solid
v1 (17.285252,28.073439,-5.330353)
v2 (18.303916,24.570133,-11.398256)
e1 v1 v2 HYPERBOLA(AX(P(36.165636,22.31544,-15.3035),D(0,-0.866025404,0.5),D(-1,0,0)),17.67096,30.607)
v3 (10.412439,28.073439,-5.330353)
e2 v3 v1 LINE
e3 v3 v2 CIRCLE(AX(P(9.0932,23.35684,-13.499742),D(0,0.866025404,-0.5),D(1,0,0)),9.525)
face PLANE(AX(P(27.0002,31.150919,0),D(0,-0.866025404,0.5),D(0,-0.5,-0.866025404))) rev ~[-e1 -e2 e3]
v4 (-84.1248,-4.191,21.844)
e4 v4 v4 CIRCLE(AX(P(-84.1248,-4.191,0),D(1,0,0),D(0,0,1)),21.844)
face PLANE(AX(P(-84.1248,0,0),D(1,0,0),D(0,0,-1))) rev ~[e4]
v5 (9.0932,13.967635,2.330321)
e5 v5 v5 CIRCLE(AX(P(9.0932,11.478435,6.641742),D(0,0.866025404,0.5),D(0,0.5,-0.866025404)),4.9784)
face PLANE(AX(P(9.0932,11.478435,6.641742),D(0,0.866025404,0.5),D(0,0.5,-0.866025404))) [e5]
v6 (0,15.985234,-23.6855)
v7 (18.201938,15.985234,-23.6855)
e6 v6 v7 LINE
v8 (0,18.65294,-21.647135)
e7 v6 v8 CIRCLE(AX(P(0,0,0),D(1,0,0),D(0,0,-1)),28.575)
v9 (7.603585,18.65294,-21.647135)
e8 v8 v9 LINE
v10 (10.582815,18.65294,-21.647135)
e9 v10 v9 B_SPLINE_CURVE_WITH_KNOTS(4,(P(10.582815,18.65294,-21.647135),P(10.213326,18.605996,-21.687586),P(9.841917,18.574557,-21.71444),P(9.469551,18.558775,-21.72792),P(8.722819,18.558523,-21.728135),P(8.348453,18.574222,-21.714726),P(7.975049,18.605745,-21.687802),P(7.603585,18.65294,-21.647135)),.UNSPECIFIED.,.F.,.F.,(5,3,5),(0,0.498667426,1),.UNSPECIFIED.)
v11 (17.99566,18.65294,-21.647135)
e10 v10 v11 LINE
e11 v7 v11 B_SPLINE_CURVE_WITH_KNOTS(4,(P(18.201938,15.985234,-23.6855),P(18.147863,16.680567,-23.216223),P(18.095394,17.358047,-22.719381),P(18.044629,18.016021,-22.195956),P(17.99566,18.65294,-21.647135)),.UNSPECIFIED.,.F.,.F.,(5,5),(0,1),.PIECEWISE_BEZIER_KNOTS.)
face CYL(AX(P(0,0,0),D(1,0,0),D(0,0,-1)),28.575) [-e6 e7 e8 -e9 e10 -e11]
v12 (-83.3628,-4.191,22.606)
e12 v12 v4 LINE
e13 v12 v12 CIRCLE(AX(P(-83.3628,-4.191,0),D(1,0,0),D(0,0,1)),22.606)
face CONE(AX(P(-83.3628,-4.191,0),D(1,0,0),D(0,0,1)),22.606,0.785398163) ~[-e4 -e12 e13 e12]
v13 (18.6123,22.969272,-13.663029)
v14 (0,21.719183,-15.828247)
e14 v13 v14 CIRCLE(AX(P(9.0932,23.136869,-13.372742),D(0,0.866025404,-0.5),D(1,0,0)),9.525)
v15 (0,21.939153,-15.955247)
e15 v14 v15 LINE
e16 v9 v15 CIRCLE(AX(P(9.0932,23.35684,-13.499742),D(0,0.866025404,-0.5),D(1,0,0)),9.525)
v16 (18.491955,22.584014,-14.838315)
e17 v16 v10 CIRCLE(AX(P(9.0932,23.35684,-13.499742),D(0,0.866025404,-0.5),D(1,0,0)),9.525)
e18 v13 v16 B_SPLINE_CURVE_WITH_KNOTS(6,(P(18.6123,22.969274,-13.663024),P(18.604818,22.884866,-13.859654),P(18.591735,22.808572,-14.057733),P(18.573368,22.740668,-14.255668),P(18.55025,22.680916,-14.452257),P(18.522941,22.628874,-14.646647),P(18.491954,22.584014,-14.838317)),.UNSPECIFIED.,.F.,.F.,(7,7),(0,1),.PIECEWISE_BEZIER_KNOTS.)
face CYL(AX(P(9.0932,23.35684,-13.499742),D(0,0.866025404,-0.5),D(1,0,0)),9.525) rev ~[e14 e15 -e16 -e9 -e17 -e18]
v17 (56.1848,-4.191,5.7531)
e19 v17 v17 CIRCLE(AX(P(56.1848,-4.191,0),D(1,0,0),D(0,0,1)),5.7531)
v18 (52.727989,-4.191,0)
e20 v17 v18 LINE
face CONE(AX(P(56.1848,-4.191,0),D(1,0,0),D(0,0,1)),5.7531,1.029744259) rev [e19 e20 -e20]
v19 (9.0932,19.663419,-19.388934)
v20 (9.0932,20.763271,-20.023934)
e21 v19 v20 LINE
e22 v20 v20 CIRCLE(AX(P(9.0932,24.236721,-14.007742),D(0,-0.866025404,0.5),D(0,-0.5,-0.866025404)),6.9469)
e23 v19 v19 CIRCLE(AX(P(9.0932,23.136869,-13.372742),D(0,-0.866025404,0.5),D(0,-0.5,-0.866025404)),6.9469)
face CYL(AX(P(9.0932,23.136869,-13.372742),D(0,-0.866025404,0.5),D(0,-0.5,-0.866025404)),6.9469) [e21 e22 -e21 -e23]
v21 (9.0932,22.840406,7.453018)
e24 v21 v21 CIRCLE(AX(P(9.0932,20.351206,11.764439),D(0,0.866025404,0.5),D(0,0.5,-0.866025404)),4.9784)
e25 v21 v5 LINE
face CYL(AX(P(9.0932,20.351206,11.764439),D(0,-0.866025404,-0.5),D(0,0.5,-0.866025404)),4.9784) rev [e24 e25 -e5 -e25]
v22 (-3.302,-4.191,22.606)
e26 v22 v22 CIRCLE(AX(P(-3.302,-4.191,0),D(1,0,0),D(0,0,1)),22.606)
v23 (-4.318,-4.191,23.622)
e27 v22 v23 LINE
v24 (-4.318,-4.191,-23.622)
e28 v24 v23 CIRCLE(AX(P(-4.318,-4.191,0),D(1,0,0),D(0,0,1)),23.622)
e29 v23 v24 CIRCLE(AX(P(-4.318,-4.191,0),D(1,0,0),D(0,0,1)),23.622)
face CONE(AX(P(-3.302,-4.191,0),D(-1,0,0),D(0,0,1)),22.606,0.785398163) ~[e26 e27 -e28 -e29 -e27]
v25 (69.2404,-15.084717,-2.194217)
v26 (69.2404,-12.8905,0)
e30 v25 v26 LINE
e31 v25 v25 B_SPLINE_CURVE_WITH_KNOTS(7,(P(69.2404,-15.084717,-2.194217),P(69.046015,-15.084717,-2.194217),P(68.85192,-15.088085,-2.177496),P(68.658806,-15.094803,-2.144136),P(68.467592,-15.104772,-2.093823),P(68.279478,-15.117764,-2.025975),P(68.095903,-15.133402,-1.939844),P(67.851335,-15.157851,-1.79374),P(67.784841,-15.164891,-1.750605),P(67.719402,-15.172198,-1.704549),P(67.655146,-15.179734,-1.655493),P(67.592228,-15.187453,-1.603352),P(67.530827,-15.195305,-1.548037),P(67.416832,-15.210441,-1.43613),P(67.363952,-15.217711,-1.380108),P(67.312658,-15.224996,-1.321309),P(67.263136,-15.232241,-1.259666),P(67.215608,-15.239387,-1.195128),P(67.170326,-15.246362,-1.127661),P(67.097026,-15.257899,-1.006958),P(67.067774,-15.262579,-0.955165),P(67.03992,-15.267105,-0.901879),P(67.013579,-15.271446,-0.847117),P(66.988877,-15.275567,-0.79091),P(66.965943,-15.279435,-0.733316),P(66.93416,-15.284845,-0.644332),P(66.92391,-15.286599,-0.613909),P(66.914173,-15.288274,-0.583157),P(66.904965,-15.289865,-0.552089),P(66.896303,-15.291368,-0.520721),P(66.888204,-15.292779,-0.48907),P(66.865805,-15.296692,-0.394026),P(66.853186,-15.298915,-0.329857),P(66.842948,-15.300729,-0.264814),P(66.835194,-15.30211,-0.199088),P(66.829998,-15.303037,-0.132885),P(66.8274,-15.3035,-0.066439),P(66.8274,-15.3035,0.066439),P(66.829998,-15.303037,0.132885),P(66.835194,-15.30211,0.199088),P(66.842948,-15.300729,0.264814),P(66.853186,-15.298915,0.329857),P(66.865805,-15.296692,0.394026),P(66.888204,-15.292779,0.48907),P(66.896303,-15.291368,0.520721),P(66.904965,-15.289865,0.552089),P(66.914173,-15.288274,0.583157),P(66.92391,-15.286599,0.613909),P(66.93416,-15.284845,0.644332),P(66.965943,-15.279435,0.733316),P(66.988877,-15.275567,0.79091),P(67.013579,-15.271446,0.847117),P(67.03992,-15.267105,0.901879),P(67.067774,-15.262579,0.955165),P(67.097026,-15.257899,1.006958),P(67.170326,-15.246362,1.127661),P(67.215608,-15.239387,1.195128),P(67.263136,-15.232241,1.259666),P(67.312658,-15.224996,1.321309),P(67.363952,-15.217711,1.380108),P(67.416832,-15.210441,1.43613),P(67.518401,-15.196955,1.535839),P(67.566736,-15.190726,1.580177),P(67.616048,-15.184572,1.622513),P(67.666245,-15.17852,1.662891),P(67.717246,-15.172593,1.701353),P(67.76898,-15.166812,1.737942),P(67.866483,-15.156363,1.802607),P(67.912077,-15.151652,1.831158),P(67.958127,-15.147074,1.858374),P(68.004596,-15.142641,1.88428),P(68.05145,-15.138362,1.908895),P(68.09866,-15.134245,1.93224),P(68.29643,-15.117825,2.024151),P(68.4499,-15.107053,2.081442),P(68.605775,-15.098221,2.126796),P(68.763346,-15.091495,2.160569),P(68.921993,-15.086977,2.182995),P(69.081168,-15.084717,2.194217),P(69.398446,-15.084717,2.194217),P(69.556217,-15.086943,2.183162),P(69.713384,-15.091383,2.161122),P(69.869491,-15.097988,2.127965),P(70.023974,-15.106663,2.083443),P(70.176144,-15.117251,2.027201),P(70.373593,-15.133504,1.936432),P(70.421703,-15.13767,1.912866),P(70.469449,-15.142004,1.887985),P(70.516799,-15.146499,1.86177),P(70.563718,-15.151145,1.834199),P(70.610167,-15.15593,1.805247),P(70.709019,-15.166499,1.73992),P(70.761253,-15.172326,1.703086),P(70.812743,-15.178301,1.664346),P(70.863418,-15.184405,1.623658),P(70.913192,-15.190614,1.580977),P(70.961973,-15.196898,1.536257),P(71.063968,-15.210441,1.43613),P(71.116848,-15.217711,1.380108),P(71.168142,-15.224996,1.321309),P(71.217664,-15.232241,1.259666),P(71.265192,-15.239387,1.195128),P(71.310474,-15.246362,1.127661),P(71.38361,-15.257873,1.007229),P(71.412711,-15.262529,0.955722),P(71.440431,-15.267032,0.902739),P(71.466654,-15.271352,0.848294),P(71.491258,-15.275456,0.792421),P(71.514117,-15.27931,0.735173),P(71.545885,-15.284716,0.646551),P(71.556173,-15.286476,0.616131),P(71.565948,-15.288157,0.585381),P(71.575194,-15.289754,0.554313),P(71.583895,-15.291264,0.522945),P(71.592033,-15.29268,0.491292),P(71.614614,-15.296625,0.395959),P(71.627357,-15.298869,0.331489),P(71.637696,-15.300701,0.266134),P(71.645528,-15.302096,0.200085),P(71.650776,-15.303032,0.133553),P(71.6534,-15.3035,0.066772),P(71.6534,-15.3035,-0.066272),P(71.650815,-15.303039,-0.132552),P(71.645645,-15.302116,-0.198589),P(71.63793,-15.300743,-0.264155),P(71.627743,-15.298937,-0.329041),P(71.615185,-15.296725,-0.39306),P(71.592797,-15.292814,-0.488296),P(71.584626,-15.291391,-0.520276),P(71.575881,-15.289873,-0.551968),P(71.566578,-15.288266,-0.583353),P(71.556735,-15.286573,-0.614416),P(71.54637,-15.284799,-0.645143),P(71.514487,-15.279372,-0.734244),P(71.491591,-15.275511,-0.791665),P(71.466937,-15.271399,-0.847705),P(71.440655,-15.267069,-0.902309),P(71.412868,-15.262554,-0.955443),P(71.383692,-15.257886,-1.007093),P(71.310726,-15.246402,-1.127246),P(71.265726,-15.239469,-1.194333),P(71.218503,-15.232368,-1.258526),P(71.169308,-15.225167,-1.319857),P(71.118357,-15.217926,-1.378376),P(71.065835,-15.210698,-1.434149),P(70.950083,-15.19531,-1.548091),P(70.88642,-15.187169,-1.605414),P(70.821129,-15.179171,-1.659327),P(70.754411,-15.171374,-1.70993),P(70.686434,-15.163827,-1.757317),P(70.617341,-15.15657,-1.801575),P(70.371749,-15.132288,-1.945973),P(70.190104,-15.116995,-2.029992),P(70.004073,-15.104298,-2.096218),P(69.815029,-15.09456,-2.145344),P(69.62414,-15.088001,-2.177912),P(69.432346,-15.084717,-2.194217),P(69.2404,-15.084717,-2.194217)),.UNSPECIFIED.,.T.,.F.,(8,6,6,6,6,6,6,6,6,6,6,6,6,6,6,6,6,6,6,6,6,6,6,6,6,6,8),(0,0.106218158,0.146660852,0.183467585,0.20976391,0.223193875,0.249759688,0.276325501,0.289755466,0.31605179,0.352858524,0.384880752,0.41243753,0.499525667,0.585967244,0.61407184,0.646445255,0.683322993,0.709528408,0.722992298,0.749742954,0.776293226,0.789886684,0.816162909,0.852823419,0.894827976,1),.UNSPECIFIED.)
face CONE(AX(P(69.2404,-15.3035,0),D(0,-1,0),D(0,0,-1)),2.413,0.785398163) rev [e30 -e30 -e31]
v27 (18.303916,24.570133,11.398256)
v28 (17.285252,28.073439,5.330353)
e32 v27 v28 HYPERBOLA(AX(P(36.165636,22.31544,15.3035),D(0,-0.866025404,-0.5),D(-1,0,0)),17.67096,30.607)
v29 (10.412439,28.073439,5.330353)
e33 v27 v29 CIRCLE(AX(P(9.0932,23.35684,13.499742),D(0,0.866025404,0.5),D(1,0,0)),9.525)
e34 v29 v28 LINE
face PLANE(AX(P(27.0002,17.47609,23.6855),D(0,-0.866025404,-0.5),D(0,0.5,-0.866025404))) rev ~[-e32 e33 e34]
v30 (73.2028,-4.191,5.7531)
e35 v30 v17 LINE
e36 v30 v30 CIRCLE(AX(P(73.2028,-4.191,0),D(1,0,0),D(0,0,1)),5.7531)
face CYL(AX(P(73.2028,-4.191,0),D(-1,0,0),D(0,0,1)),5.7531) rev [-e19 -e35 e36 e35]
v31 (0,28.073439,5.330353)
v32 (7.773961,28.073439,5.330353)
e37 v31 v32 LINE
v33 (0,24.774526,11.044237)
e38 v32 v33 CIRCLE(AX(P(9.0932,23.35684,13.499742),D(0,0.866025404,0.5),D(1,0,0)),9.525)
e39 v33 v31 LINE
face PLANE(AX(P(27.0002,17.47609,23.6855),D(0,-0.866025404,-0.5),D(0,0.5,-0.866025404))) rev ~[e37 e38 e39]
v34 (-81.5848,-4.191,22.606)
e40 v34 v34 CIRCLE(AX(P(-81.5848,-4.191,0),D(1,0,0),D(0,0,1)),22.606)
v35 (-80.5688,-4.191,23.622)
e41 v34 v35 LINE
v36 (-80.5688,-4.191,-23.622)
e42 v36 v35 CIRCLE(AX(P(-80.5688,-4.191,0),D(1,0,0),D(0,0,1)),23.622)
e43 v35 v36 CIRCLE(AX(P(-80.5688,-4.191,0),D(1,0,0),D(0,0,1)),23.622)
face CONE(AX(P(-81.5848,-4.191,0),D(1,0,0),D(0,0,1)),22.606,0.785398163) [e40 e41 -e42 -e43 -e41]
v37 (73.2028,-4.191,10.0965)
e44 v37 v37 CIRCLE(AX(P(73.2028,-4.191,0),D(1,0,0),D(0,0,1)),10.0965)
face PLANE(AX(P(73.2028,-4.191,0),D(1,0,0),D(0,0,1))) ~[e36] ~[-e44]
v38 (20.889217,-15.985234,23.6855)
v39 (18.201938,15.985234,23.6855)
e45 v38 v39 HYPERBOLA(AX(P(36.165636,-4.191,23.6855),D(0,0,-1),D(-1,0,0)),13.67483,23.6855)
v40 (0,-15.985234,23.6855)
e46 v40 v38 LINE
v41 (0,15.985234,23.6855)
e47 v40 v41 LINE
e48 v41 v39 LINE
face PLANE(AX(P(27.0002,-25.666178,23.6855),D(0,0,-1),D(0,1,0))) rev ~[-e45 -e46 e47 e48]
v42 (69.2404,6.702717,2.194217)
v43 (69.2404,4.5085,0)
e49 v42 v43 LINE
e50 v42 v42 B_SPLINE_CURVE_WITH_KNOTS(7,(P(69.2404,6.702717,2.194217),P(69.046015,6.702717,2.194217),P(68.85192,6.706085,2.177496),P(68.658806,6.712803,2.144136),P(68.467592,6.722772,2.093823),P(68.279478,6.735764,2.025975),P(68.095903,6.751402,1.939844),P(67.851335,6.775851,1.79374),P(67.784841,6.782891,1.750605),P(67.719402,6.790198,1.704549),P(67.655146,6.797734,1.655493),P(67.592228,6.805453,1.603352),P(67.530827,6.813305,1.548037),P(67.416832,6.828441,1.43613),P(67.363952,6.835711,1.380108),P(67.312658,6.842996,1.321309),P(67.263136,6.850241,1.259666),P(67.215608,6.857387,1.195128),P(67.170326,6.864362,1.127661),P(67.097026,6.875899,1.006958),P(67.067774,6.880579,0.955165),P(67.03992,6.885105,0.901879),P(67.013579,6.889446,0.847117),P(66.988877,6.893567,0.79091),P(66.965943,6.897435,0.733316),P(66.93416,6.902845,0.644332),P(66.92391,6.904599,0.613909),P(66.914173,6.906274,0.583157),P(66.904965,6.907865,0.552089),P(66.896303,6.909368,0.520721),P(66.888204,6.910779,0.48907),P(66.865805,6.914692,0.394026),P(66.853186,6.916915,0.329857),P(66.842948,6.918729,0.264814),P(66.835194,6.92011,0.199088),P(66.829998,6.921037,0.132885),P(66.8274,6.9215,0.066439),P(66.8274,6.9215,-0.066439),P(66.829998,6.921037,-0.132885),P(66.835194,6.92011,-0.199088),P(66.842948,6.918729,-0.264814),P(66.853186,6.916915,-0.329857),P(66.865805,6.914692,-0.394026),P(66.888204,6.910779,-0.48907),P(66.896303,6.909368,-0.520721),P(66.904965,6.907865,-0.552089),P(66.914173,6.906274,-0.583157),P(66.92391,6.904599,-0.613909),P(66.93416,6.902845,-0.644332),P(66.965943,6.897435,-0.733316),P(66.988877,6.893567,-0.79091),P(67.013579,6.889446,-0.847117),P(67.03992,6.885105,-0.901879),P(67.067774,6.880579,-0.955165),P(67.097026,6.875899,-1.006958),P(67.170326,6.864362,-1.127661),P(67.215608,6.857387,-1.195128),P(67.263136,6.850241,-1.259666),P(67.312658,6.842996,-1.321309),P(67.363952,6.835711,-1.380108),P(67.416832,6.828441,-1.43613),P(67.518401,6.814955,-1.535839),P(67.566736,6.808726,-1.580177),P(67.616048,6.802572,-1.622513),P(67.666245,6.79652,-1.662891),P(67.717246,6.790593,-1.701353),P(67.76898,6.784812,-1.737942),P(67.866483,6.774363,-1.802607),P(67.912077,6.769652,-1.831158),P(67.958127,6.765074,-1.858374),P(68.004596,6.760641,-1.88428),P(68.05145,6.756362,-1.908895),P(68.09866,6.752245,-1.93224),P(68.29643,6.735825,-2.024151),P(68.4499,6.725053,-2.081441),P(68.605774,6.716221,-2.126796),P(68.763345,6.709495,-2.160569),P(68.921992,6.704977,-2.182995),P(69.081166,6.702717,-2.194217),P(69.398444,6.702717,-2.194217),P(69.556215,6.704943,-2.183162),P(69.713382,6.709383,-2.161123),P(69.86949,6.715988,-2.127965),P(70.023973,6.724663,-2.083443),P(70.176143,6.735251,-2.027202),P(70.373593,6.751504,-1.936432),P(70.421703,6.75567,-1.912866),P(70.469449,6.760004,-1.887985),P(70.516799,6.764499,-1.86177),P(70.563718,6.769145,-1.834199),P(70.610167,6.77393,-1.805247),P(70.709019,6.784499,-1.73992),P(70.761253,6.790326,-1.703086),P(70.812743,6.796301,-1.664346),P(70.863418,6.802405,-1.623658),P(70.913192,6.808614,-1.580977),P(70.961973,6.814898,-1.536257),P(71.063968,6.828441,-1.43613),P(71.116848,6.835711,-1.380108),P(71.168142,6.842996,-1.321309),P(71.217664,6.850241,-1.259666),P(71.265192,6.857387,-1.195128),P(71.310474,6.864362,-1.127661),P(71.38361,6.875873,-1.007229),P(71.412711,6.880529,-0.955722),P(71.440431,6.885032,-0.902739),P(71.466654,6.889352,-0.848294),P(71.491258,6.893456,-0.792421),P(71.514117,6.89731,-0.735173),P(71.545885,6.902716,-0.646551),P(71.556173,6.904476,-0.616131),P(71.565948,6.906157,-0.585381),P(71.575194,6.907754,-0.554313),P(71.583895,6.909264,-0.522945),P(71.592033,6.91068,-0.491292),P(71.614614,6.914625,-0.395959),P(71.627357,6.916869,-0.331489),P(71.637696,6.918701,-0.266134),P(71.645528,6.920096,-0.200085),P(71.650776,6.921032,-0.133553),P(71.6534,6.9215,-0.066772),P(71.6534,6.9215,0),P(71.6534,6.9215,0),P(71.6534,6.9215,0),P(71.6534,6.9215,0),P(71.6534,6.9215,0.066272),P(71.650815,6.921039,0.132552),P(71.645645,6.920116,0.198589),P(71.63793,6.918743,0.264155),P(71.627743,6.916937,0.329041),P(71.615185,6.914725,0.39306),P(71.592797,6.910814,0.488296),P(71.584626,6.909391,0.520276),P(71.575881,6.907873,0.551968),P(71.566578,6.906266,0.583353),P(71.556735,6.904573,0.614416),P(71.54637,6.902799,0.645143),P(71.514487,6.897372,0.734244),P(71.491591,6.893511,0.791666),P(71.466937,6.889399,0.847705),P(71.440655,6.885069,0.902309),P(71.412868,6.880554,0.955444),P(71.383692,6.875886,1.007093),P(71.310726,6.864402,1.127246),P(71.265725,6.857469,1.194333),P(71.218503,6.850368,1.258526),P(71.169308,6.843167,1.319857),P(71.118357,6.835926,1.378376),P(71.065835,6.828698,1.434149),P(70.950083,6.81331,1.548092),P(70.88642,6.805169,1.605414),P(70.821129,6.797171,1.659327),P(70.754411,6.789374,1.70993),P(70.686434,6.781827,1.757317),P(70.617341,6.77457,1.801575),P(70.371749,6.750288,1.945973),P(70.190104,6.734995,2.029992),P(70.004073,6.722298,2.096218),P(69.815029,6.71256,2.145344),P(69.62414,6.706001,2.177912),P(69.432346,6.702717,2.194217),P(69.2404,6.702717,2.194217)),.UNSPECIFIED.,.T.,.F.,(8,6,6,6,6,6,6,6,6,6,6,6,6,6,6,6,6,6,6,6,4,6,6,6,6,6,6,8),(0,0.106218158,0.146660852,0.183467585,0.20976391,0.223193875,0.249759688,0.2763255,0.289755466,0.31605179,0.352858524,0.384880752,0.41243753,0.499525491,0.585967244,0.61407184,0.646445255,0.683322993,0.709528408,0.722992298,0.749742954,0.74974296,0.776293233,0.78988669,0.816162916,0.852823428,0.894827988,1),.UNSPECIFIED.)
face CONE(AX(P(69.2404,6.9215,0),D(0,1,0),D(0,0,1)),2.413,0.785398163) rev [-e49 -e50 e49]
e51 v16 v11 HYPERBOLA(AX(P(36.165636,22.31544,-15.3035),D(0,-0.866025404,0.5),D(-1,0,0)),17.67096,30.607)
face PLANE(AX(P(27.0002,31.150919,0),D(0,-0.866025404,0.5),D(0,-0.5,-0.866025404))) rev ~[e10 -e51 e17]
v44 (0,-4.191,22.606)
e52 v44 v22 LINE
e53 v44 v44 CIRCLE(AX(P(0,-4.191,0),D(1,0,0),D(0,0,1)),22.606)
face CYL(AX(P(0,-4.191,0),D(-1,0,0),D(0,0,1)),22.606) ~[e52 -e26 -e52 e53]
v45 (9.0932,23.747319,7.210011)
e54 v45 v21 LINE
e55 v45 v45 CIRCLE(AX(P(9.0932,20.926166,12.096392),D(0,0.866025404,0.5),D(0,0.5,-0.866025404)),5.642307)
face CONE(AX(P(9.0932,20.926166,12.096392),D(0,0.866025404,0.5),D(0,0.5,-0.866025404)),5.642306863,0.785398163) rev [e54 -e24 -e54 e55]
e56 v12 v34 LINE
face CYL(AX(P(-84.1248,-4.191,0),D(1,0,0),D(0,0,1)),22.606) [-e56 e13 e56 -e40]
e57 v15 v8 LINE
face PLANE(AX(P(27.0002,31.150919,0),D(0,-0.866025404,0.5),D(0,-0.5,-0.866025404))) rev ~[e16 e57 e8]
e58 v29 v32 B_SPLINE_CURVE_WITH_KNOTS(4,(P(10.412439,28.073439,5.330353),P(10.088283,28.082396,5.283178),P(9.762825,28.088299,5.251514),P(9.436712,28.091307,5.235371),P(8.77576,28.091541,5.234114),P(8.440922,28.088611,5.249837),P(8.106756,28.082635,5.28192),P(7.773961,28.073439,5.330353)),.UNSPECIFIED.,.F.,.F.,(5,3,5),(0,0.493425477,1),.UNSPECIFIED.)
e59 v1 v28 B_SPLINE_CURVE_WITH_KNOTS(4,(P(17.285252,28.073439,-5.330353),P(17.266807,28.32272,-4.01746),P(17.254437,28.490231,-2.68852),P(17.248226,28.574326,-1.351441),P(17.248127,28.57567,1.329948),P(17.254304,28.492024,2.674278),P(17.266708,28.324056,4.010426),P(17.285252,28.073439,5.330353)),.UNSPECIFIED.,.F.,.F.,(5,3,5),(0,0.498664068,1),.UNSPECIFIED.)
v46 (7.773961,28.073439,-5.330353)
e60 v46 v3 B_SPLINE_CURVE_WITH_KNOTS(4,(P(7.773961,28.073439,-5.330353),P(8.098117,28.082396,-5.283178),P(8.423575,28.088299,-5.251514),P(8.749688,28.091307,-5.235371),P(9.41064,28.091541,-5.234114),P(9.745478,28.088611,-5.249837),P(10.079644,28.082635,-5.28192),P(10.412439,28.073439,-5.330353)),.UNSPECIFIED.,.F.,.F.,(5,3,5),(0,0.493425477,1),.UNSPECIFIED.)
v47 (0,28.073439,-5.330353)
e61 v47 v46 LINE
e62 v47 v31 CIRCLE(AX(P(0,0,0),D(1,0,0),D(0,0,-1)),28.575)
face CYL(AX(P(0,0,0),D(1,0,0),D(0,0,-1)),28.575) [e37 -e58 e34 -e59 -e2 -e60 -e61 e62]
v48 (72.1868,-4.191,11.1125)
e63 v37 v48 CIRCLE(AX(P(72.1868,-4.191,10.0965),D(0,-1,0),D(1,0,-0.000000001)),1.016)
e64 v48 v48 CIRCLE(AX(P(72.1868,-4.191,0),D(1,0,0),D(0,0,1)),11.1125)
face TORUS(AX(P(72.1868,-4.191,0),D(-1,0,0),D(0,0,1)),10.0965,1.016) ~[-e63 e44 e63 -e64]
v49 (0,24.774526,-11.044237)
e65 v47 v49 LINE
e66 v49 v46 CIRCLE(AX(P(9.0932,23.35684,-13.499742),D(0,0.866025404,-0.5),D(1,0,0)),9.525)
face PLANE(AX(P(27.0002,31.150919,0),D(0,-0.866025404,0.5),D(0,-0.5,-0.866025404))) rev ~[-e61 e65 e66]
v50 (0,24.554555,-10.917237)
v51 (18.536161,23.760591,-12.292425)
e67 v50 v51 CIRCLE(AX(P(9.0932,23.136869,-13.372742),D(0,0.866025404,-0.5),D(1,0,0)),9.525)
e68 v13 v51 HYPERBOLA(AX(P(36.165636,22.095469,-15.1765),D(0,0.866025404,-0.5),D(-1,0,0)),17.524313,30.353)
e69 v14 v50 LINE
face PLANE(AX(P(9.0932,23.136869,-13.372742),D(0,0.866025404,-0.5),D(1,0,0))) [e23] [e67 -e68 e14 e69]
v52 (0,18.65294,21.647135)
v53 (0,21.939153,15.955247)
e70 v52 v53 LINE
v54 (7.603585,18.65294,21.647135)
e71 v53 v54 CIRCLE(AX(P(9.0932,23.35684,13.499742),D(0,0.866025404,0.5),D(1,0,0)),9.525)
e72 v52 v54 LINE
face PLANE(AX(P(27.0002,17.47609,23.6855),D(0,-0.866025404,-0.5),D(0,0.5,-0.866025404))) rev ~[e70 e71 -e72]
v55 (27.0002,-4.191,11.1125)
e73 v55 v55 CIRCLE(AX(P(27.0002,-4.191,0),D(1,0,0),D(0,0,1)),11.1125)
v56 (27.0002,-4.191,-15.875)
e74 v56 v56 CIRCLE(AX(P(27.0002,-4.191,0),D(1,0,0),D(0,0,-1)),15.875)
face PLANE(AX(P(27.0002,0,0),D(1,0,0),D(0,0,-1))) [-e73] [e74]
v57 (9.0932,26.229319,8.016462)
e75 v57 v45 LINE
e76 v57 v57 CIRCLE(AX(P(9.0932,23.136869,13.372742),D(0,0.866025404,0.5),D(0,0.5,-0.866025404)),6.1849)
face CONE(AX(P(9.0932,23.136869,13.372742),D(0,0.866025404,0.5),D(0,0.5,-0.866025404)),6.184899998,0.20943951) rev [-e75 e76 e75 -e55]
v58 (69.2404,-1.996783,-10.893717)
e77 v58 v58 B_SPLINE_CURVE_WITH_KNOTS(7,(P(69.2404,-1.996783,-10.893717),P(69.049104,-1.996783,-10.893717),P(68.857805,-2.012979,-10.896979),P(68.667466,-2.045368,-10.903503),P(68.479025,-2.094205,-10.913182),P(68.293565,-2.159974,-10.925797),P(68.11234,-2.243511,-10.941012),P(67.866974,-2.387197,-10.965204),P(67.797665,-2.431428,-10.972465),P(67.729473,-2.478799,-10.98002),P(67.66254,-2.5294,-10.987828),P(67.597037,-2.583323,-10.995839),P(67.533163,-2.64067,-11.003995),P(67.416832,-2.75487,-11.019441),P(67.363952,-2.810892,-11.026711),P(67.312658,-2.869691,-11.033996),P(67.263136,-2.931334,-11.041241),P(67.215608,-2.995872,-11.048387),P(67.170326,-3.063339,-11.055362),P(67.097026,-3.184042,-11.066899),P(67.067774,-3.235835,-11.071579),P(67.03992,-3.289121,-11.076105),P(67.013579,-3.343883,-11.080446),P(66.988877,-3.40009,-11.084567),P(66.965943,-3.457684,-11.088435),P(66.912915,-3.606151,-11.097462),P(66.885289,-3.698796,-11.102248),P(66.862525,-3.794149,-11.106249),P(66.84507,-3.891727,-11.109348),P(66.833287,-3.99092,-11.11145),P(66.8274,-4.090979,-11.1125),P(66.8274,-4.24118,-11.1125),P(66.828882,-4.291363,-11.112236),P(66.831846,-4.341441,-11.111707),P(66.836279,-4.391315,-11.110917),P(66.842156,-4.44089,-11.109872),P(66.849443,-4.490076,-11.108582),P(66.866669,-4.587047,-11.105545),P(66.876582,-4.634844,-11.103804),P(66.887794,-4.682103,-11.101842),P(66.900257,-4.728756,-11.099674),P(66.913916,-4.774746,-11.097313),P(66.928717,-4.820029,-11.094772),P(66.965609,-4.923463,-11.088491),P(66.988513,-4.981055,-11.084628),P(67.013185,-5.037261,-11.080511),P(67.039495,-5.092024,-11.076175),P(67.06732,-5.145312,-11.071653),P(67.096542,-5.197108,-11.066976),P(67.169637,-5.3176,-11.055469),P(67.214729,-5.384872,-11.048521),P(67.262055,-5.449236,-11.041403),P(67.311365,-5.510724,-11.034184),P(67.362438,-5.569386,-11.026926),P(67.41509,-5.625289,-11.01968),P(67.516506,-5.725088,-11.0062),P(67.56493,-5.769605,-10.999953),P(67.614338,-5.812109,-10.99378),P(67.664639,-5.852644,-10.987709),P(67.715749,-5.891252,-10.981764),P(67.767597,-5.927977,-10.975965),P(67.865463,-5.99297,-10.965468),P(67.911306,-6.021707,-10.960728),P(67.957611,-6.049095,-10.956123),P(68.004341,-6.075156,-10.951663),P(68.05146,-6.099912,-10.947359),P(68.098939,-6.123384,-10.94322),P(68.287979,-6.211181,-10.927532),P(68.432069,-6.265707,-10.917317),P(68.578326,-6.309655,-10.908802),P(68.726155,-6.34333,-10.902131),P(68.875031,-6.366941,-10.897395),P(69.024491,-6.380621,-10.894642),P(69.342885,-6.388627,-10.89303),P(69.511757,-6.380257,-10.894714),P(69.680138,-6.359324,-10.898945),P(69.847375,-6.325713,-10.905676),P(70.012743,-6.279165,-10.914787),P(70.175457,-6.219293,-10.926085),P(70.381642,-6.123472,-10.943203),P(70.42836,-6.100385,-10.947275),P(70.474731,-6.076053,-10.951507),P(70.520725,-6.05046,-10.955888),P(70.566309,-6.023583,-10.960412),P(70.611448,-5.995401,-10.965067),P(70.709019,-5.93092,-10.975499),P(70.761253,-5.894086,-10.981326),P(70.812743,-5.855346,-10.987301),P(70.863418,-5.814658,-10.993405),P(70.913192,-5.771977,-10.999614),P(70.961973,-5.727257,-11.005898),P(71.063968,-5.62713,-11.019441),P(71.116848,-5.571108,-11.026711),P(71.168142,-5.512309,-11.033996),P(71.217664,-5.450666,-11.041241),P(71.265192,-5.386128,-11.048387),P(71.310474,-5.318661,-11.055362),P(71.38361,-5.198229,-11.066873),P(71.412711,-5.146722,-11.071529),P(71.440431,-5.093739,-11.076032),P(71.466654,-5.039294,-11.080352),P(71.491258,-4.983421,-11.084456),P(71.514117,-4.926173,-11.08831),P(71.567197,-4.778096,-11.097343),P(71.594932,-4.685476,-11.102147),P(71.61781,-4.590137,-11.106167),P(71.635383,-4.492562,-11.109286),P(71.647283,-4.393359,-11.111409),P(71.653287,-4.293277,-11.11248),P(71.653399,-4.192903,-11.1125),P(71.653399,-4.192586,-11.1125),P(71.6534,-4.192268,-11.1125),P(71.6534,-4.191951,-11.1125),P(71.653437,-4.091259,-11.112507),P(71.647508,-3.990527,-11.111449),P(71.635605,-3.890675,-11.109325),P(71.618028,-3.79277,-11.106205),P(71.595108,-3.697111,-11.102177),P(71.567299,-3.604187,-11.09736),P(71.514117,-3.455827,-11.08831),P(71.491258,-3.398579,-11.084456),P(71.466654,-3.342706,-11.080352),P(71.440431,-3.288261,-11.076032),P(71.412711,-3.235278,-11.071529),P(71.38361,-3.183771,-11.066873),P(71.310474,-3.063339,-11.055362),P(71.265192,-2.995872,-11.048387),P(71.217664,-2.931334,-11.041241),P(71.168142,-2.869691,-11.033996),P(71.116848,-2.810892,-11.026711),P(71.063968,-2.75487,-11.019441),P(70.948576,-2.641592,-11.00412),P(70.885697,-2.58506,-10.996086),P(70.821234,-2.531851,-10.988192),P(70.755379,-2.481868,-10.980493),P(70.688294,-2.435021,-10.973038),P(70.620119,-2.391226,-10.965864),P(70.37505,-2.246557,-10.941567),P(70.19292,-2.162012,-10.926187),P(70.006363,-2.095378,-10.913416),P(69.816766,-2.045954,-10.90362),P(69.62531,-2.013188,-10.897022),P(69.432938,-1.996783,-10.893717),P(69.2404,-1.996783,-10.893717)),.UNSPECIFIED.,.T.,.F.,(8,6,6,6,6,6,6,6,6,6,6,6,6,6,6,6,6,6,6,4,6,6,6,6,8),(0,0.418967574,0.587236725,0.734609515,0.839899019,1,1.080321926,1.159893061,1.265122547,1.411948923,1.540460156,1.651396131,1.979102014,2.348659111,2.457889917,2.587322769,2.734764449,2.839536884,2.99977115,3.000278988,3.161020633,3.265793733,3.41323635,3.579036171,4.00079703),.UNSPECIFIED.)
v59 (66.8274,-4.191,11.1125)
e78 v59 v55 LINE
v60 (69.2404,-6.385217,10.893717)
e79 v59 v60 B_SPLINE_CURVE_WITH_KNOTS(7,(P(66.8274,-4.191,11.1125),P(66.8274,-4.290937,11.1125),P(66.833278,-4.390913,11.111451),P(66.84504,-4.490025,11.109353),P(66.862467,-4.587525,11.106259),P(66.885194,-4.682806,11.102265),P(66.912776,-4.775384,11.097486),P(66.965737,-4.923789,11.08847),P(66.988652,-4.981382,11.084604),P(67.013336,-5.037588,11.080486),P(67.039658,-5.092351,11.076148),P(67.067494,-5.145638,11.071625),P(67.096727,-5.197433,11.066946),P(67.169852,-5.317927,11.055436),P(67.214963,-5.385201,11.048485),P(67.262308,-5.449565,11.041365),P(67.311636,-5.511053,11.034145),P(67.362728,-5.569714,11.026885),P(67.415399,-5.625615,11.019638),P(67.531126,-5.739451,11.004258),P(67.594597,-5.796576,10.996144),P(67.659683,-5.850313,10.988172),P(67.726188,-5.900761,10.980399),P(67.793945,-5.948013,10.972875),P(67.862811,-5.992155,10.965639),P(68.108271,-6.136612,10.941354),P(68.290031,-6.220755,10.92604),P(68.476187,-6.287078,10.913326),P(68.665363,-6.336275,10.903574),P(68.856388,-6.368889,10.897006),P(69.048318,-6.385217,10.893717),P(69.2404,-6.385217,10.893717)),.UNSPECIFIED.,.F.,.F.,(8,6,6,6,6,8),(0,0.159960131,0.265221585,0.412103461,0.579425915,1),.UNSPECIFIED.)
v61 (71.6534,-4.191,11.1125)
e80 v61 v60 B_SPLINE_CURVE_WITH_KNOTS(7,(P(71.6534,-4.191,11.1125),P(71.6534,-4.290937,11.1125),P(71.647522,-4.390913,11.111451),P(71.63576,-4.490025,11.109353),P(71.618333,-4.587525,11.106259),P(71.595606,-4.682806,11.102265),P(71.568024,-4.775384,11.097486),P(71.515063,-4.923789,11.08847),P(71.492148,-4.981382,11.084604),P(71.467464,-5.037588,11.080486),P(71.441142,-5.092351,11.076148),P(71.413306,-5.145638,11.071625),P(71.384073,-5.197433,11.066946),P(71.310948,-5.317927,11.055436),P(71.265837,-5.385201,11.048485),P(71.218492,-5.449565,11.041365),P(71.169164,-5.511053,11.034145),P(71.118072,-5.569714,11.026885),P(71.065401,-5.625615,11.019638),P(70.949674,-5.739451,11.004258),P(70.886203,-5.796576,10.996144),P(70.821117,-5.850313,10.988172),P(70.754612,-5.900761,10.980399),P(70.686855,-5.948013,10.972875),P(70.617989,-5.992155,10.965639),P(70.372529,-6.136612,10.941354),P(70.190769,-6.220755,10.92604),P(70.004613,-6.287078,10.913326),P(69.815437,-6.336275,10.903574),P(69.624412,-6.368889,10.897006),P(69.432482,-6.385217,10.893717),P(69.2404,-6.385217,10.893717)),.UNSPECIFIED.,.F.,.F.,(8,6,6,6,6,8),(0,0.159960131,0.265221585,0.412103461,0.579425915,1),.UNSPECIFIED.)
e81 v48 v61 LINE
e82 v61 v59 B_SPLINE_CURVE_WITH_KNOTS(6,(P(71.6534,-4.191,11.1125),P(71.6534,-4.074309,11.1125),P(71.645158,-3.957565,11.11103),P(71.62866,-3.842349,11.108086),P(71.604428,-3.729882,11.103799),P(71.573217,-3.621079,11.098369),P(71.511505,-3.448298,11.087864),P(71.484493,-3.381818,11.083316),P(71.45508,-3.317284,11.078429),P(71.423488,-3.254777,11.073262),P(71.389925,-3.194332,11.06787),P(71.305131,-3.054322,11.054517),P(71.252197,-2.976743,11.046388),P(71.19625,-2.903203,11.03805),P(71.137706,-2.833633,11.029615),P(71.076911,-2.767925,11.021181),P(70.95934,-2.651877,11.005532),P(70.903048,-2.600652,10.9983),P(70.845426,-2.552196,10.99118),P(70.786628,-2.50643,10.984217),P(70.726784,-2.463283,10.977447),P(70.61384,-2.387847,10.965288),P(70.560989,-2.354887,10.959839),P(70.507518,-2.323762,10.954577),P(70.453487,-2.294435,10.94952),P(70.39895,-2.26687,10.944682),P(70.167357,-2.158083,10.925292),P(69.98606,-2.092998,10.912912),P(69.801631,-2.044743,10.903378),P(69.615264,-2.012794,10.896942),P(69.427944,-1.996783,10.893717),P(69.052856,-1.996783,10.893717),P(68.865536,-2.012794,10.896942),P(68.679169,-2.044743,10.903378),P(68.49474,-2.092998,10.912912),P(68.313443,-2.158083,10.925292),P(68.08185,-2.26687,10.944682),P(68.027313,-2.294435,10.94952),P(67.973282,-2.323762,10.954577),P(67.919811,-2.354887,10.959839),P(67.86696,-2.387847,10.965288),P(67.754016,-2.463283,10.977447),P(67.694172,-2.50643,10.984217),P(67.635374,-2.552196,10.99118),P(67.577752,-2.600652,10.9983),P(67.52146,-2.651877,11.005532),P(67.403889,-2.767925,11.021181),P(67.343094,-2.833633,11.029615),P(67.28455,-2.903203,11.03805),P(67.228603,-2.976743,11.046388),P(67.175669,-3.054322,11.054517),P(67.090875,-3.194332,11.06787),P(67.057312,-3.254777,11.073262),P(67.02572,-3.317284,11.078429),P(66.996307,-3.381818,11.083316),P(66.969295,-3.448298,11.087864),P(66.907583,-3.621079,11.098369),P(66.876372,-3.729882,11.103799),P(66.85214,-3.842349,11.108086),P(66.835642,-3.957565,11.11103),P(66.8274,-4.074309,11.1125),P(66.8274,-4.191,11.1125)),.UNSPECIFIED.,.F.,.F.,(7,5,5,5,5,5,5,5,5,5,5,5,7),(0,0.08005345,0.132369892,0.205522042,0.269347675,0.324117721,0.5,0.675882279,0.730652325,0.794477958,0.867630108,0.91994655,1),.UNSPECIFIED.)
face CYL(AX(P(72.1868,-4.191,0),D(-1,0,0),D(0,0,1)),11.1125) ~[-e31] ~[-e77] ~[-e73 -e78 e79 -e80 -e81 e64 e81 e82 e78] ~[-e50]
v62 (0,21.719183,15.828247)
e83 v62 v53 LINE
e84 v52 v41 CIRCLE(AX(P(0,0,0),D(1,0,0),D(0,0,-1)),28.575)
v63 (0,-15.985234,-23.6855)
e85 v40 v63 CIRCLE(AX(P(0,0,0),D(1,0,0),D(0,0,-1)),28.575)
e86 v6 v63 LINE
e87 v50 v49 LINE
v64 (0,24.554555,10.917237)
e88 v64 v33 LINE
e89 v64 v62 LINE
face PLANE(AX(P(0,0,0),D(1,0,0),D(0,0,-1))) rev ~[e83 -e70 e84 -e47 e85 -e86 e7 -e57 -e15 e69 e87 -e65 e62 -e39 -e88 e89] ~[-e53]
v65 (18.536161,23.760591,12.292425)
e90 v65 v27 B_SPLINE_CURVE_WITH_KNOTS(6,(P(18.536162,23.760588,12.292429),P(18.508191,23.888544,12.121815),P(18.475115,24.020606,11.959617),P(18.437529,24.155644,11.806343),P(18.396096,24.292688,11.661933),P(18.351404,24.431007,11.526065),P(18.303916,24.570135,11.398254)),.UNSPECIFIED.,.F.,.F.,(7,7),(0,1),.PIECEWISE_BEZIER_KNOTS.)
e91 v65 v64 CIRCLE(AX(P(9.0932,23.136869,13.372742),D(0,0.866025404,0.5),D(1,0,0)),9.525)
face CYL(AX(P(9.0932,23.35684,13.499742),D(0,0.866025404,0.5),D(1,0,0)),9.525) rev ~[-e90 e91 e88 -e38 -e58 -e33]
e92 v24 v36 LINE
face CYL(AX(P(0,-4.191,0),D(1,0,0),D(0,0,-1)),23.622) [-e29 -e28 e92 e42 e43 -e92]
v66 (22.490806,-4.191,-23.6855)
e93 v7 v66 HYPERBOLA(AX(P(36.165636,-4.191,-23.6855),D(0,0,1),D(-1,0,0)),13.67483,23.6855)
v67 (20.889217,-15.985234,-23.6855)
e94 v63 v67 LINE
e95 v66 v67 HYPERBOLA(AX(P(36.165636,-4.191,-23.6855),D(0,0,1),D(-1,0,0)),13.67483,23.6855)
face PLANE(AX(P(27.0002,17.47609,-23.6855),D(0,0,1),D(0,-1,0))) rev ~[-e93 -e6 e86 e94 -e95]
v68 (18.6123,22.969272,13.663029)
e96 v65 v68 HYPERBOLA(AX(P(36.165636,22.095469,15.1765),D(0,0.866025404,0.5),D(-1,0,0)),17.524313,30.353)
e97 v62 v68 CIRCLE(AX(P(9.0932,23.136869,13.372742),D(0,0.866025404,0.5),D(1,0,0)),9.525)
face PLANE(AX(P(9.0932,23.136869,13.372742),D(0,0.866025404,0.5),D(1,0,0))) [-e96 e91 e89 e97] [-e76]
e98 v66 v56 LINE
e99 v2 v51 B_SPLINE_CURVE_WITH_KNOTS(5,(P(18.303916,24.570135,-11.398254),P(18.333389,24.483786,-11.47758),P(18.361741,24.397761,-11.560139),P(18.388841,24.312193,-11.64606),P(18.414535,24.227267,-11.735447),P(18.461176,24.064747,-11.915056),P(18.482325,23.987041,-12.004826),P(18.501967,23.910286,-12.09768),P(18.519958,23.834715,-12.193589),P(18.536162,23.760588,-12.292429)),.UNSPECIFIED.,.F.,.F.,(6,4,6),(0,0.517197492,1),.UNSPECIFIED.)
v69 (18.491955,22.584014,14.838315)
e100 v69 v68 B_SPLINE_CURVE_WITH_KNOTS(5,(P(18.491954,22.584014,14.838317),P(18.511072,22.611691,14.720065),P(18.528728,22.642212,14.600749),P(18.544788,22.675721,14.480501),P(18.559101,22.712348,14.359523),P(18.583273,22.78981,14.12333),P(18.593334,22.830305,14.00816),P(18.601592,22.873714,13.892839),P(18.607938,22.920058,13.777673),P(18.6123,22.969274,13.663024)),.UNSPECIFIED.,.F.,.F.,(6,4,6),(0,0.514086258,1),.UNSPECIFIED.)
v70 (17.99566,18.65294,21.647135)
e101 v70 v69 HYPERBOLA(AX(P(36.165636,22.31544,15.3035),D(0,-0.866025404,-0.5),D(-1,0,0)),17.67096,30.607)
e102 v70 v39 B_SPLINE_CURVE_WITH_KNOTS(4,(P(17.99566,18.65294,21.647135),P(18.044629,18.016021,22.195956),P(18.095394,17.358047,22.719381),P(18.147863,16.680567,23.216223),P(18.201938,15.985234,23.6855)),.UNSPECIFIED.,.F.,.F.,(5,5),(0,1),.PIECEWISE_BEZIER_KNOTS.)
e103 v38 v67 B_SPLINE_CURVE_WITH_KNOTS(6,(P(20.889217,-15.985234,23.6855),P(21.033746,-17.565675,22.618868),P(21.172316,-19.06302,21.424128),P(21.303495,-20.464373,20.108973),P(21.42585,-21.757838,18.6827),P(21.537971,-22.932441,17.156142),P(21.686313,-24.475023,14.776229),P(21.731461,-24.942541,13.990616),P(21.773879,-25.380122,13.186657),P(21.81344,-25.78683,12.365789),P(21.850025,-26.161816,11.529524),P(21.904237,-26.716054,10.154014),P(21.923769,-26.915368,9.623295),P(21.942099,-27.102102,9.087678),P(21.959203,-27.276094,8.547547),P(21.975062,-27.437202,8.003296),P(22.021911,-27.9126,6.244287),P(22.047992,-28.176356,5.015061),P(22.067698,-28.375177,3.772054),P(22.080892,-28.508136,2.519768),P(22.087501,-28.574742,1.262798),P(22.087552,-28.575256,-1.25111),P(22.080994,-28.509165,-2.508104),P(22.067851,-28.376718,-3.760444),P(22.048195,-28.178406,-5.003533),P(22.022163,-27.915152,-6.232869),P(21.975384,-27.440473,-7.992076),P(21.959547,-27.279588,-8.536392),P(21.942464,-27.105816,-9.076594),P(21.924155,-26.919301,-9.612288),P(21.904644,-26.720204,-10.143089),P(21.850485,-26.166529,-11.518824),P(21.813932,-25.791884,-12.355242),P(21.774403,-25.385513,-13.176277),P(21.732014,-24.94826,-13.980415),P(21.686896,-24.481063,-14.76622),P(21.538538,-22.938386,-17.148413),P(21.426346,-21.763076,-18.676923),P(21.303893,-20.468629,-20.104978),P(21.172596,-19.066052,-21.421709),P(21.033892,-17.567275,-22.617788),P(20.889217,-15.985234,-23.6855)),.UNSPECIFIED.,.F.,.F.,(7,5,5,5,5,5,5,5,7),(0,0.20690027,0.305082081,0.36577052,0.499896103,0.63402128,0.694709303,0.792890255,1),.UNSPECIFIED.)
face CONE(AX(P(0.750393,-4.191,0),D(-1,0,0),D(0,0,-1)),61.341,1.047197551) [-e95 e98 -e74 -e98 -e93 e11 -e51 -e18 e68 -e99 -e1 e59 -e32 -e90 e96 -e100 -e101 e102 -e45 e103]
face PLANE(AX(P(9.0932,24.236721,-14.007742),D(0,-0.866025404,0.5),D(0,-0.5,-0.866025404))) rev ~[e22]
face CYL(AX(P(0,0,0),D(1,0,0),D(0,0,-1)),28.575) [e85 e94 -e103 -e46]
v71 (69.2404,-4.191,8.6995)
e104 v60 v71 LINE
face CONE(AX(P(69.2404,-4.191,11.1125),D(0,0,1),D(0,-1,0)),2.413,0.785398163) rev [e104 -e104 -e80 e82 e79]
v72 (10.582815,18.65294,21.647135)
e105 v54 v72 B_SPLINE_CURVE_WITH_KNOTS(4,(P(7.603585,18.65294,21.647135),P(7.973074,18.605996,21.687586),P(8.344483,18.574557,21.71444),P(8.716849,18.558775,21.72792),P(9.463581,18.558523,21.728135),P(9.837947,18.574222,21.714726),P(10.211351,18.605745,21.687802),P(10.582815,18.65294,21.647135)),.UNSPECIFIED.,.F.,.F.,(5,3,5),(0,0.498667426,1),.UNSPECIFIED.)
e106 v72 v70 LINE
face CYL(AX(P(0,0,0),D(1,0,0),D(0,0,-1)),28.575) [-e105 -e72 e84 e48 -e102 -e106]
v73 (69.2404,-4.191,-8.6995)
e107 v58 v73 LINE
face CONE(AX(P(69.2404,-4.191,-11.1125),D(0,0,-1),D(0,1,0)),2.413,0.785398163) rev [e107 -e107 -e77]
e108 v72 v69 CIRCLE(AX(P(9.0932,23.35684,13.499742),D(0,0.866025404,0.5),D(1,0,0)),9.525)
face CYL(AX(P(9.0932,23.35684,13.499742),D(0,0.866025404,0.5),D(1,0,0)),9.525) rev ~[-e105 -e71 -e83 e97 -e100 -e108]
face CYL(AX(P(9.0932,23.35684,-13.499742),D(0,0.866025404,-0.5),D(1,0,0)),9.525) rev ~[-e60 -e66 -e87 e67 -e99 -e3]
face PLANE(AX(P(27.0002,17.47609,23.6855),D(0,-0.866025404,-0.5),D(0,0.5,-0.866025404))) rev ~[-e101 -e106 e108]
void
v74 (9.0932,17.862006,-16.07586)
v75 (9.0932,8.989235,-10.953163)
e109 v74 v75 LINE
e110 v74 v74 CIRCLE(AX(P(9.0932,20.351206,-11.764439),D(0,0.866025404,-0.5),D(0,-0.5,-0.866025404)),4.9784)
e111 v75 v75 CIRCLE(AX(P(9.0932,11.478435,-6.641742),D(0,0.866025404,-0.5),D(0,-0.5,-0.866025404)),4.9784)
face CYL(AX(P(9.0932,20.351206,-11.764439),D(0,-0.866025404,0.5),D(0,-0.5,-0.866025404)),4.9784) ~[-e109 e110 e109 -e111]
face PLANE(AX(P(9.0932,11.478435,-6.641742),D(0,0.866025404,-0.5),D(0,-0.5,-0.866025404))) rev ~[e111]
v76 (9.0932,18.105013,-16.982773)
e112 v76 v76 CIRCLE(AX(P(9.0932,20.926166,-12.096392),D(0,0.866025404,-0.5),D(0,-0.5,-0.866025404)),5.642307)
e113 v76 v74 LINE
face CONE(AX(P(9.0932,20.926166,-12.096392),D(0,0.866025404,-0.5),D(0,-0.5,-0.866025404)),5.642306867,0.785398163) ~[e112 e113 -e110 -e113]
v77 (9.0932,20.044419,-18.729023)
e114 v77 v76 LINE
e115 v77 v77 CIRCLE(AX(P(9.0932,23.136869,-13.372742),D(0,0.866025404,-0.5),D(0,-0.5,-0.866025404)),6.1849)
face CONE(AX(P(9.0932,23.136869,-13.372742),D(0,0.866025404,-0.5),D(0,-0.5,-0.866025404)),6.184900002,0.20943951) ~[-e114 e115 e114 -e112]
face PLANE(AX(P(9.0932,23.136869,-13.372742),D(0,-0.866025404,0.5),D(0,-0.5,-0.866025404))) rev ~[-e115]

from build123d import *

# Parameters (mm, degrees)
SKETCH1_R           = 28.575
EXTRUDE1_DEPTH      = 27.0002
EXTRUDE1_DEPTH_BACK = 84.1248
CUT_EXTRUDE1_REACH  = 86.125
SKETCH2_R           = 28.575
SKETCH2_R_2         = 23.622
CUT_EXTRUDE3_START  = -27.0002
CUT_EXTRUDE3_DEPTH  = 27.0002
SKETCH18_R          = 9.525
CUT_EXTRUDE4_DEPTH  = 0.254
SKETCH19_R          = 9.525
CUT_EXTRUDE5_DEPTH  = 0.254
CHAMFER1_SIZE       = 0.762
SKETCH15_R          = 6.9469
EXTRUDE2_DEPTH      = 1.27
CIRPATTERN1_COUNT   = 4


with BuildPart() as part:
    # Sketch1 → Extrude1 (new body, two sides)
    with BuildSketch(Plane(origin=(0, 0, 0), x_dir=(0, 0, -1), z_dir=(1, 0, 0))) as extrude1_sk:
        Circle(SKETCH1_R)
    extrude(amount=EXTRUDE1_DEPTH)
    extrude(extrude1_sk.sketch, amount=-EXTRUDE1_DEPTH_BACK)

    # Sketch2 → Cut-Extrude1 (cut, up to next)
    with BuildSketch(Plane(origin=(0, 0, 0), x_dir=(0, 0, -1), z_dir=(1, 0, 0)), mode=Mode.PRIVATE) as cut_extrude1_sk1:
        Circle(SKETCH2_R)
        with Locations((0, -4.191)):
            Circle(SKETCH2_R_2, mode=Mode.SUBTRACT)
    cut_extrude1_tool1 = extrude(cut_extrude1_sk1.sketch, amount=-CUT_EXTRUDE1_REACH, mode=Mode.PRIVATE) & part.part
    add(cut_extrude1_tool1.solids().sort_by_distance((0, 0, 27.766777))[0], mode=Mode.SUBTRACT)

    # Sketch4 → Cut-Extrude3 (cut)
    with BuildSketch(Plane.ZY.offset(CUT_EXTRUDE3_START)):
        with BuildLine():
            Line((23.6855, -25.666178421), (23.6855, 17.476089577))
            Line((23.6855, 17.476089577), (0, 31.150919378))
            Line((0, 31.150919378), (-23.6855, 17.476089577))
            Line((-23.6855, 17.476089577), (-23.6855, -25.666178421))
            ThreePointArc((-23.6855, -25.666178421), (0, 34.925), (23.6855, -25.666178421))
        make_face()
    extrude(amount=CUT_EXTRUDE3_DEPTH, mode=Mode.SUBTRACT)

    # Sketch6 → Cut-Revolve2 (revolve, cut)
    with BuildSketch(Plane.XY, mode=Mode.PRIVATE) as cut_revolve2_sk:
        Polygon((0.750392661, 57.15), (27.0002, 11.684), (27.0002, 57.15), align=None)
    revolve(cut_revolve2_sk.sketch.rotate(Axis((-0.562097706, -4.191, 0), (1, 0, 0)), 270), axis=Axis((-0.562097706, -4.191, 0), (1, 0, 0)), mode=Mode.SUBTRACT)  # turned: the seam where the file's is

    # S2D0002 → Cut-Revolve3 (revolve, cut)
    with BuildSketch(Plane(origin=(9.0932, 23.136869081, 13.372742289), x_dir=(0, 0.5, -0.866025404), z_dir=(1, 0, 0))):
        Polygon((0, 0), (6.1849, 0), (5.642306865, -2.5527), (4.9784, -3.216606865), (4.9784, -13.462), (0, -13.462), align=None)
    revolve(axis=Axis((9.0932, 10.895513396, 6.305192289), (0, 0.866025404, 0.5)), mode=Mode.SUBTRACT)

    # Sketch8 → Cut-Revolve4 (revolve, cut)
    with BuildSketch(Plane(origin=(9.0932, 23.136869081, -13.372742289), x_dir=(0, -0.5, -0.866025404), z_dir=(1, 0, 0))):
        Polygon((0, 0), (6.1849, 0), (5.642306865, -2.5527), (4.9784, -3.216606865), (4.9784, -13.462), (0, -13.462), align=None)
    revolve(axis=Axis((9.0932, 10.895513396, -6.305192289), (0, 0.866025404, -0.5)), mode=Mode.SUBTRACT)

    # Sketch18 → Cut-Extrude4 (cut)
    with BuildSketch(Plane(origin=(0, 23.363189534, 13.488743766), x_dir=(1, 0, 0), z_dir=(0, 0.866025404, 0.5))):
        with Locations((9.0932, -0.0127)):
            Circle(SKETCH18_R)
    extrude(amount=-CUT_EXTRUDE4_DEPTH, mode=Mode.SUBTRACT)

    # Sketch19 → Cut-Extrude5 (cut)
    with BuildSketch(Plane(origin=(0, 23.363189534, -13.488743766), x_dir=(1, 0, 0), z_dir=(0, 0.866025404, -0.5))):
        with Locations((9.0932, 0.0127)):
            Circle(SKETCH19_R)
    extrude(amount=-CUT_EXTRUDE5_DEPTH, mode=Mode.SUBTRACT)

    # Sketch10 → Cut-Revolve6 (revolve, cut)
    with BuildSketch(Plane.XY, mode=Mode.PRIVATE) as cut_revolve6_sk:
        Polygon((0, 19.431), (0, 18.415), (-3.302, 18.415), (-4.318, 19.431), align=None)
    revolve(cut_revolve6_sk.sketch.rotate(Axis((-4.5339, -4.191, 0), (1, 0, 0)), 90), axis=Axis((-4.5339, -4.191, 0), (1, 0, 0)), mode=Mode.SUBTRACT)  # turned: the seam where the file's is

    # Sketch12 → Cut-Revolve8 (revolve, cut)
    with BuildSketch(Plane.XY, mode=Mode.PRIVATE) as cut_revolve8_sk:
        Polygon((-84.1248, 19.431), (-84.1248, 18.415), (-81.5848, 18.415), (-80.5688, 19.431), align=None)
    revolve(cut_revolve8_sk.sketch.rotate(Axis((-84.3026, -4.191, 0), (1, 0, 0)), 90), axis=Axis((-84.3026, -4.191, 0), (1, 0, 0)), mode=Mode.SUBTRACT)  # turned: the seam where the file's is

    # Chamfer1
    chamfer1_edges = [part.edges().sort_by_distance(p)[0] for p in [
        (-84.1248, -4.191, -22.606),
    ]]
    chamfer(chamfer1_edges, length=CHAMFER1_SIZE)

    # Sketch13 → Revolve1 (revolve)
    with BuildSketch(Plane(origin=(0, 0, 0), x_dir=(0, -1, 0), z_dir=(0, 0, 1)), mode=Mode.PRIVATE) as revolve1_sk:
        with BuildLine():
            Line((4.191, 27.0002), (4.191, 73.2028))
            Line((4.191, 73.2028), (14.2875, 73.2028))
            ThreePointArc((14.2875, 73.2028), (15.00592049, 72.90522049), (15.3035, 72.1868))
            Line((15.3035, 72.1868), (15.3035, 27.0002))
            Line((15.3035, 27.0002), (4.191, 27.0002))
        make_face()
    revolve(revolve1_sk.sketch.rotate(Axis((25.10663, -4.191, 0), (1, 0, 0)), 270), axis=Axis((25.10663, -4.191, 0), (1, 0, 0)))  # turned: the seam where the file's is

    # S2D0001 → Cut-Revolve9 (revolve, cut)
    with BuildSketch(Plane(origin=(64.8716, -9.9441, 0), x_dir=(0, -1, 0), z_dir=(0, 0, 1)), mode=Mode.PRIVATE) as cut_revolve9_sk:
        Polygon((0, 8.3312), (0, -8.6868), (-5.7531, -12.143611227), (-5.7531, 8.3312), align=None)
    revolve(cut_revolve9_sk.sketch.rotate(Axis((43.373048211, -4.191, 0), (1, 0, 0)), 270), axis=Axis((43.373048211, -4.191, 0), (1, 0, 0)), mode=Mode.SUBTRACT)  # turned: the seam where the file's is

    # Sketch15 → Extrude2 (add)
    with BuildSketch(Plane(origin=(27.0002, 23.143219081, -13.361743766), x_dir=(0, -0.5, -0.866025404), z_dir=(0, -0.866025404, 0.5))):
        with Locations((0.0127, -17.907)):
            Circle(SKETCH15_R)
    extrude(amount=-EXTRUDE2_DEPTH)

    # Sketch16 → Cut-Revolve10 (revolve, cut)
    with BuildSketch(Plane(origin=(60.9092, 6.9215, 0), x_dir=(-1, 0, 0), z_dir=(0, 0, -1)), mode=Mode.PRIVATE) as cut_revolve10_sk:
        Polygon((-8.3312, 0), (-5.9182, 0), (-8.3312, -2.413), align=None)
    cut_revolve10 = revolve(cut_revolve10_sk.sketch.rotate(Axis((69.2404, 2.435048935, 0), (0, 1, 0)), 90), axis=Axis((69.2404, 2.435048935, 0), (0, 1, 0)), mode=Mode.SUBTRACT)  # turned: the seam where the file's is

    # CirPattern1: Cut-Revolve10 ×4 about axis
    cirpattern1_axis = Axis((25.10663, -4.191, 0), (-1, 0, 0))
    for i in range(1, CIRPATTERN1_COUNT):
        add(cut_revolve10.rotate(cirpattern1_axis, i * 360 / CIRPATTERN1_COUNT), mode=Mode.SUBTRACT)


solid = part.part
